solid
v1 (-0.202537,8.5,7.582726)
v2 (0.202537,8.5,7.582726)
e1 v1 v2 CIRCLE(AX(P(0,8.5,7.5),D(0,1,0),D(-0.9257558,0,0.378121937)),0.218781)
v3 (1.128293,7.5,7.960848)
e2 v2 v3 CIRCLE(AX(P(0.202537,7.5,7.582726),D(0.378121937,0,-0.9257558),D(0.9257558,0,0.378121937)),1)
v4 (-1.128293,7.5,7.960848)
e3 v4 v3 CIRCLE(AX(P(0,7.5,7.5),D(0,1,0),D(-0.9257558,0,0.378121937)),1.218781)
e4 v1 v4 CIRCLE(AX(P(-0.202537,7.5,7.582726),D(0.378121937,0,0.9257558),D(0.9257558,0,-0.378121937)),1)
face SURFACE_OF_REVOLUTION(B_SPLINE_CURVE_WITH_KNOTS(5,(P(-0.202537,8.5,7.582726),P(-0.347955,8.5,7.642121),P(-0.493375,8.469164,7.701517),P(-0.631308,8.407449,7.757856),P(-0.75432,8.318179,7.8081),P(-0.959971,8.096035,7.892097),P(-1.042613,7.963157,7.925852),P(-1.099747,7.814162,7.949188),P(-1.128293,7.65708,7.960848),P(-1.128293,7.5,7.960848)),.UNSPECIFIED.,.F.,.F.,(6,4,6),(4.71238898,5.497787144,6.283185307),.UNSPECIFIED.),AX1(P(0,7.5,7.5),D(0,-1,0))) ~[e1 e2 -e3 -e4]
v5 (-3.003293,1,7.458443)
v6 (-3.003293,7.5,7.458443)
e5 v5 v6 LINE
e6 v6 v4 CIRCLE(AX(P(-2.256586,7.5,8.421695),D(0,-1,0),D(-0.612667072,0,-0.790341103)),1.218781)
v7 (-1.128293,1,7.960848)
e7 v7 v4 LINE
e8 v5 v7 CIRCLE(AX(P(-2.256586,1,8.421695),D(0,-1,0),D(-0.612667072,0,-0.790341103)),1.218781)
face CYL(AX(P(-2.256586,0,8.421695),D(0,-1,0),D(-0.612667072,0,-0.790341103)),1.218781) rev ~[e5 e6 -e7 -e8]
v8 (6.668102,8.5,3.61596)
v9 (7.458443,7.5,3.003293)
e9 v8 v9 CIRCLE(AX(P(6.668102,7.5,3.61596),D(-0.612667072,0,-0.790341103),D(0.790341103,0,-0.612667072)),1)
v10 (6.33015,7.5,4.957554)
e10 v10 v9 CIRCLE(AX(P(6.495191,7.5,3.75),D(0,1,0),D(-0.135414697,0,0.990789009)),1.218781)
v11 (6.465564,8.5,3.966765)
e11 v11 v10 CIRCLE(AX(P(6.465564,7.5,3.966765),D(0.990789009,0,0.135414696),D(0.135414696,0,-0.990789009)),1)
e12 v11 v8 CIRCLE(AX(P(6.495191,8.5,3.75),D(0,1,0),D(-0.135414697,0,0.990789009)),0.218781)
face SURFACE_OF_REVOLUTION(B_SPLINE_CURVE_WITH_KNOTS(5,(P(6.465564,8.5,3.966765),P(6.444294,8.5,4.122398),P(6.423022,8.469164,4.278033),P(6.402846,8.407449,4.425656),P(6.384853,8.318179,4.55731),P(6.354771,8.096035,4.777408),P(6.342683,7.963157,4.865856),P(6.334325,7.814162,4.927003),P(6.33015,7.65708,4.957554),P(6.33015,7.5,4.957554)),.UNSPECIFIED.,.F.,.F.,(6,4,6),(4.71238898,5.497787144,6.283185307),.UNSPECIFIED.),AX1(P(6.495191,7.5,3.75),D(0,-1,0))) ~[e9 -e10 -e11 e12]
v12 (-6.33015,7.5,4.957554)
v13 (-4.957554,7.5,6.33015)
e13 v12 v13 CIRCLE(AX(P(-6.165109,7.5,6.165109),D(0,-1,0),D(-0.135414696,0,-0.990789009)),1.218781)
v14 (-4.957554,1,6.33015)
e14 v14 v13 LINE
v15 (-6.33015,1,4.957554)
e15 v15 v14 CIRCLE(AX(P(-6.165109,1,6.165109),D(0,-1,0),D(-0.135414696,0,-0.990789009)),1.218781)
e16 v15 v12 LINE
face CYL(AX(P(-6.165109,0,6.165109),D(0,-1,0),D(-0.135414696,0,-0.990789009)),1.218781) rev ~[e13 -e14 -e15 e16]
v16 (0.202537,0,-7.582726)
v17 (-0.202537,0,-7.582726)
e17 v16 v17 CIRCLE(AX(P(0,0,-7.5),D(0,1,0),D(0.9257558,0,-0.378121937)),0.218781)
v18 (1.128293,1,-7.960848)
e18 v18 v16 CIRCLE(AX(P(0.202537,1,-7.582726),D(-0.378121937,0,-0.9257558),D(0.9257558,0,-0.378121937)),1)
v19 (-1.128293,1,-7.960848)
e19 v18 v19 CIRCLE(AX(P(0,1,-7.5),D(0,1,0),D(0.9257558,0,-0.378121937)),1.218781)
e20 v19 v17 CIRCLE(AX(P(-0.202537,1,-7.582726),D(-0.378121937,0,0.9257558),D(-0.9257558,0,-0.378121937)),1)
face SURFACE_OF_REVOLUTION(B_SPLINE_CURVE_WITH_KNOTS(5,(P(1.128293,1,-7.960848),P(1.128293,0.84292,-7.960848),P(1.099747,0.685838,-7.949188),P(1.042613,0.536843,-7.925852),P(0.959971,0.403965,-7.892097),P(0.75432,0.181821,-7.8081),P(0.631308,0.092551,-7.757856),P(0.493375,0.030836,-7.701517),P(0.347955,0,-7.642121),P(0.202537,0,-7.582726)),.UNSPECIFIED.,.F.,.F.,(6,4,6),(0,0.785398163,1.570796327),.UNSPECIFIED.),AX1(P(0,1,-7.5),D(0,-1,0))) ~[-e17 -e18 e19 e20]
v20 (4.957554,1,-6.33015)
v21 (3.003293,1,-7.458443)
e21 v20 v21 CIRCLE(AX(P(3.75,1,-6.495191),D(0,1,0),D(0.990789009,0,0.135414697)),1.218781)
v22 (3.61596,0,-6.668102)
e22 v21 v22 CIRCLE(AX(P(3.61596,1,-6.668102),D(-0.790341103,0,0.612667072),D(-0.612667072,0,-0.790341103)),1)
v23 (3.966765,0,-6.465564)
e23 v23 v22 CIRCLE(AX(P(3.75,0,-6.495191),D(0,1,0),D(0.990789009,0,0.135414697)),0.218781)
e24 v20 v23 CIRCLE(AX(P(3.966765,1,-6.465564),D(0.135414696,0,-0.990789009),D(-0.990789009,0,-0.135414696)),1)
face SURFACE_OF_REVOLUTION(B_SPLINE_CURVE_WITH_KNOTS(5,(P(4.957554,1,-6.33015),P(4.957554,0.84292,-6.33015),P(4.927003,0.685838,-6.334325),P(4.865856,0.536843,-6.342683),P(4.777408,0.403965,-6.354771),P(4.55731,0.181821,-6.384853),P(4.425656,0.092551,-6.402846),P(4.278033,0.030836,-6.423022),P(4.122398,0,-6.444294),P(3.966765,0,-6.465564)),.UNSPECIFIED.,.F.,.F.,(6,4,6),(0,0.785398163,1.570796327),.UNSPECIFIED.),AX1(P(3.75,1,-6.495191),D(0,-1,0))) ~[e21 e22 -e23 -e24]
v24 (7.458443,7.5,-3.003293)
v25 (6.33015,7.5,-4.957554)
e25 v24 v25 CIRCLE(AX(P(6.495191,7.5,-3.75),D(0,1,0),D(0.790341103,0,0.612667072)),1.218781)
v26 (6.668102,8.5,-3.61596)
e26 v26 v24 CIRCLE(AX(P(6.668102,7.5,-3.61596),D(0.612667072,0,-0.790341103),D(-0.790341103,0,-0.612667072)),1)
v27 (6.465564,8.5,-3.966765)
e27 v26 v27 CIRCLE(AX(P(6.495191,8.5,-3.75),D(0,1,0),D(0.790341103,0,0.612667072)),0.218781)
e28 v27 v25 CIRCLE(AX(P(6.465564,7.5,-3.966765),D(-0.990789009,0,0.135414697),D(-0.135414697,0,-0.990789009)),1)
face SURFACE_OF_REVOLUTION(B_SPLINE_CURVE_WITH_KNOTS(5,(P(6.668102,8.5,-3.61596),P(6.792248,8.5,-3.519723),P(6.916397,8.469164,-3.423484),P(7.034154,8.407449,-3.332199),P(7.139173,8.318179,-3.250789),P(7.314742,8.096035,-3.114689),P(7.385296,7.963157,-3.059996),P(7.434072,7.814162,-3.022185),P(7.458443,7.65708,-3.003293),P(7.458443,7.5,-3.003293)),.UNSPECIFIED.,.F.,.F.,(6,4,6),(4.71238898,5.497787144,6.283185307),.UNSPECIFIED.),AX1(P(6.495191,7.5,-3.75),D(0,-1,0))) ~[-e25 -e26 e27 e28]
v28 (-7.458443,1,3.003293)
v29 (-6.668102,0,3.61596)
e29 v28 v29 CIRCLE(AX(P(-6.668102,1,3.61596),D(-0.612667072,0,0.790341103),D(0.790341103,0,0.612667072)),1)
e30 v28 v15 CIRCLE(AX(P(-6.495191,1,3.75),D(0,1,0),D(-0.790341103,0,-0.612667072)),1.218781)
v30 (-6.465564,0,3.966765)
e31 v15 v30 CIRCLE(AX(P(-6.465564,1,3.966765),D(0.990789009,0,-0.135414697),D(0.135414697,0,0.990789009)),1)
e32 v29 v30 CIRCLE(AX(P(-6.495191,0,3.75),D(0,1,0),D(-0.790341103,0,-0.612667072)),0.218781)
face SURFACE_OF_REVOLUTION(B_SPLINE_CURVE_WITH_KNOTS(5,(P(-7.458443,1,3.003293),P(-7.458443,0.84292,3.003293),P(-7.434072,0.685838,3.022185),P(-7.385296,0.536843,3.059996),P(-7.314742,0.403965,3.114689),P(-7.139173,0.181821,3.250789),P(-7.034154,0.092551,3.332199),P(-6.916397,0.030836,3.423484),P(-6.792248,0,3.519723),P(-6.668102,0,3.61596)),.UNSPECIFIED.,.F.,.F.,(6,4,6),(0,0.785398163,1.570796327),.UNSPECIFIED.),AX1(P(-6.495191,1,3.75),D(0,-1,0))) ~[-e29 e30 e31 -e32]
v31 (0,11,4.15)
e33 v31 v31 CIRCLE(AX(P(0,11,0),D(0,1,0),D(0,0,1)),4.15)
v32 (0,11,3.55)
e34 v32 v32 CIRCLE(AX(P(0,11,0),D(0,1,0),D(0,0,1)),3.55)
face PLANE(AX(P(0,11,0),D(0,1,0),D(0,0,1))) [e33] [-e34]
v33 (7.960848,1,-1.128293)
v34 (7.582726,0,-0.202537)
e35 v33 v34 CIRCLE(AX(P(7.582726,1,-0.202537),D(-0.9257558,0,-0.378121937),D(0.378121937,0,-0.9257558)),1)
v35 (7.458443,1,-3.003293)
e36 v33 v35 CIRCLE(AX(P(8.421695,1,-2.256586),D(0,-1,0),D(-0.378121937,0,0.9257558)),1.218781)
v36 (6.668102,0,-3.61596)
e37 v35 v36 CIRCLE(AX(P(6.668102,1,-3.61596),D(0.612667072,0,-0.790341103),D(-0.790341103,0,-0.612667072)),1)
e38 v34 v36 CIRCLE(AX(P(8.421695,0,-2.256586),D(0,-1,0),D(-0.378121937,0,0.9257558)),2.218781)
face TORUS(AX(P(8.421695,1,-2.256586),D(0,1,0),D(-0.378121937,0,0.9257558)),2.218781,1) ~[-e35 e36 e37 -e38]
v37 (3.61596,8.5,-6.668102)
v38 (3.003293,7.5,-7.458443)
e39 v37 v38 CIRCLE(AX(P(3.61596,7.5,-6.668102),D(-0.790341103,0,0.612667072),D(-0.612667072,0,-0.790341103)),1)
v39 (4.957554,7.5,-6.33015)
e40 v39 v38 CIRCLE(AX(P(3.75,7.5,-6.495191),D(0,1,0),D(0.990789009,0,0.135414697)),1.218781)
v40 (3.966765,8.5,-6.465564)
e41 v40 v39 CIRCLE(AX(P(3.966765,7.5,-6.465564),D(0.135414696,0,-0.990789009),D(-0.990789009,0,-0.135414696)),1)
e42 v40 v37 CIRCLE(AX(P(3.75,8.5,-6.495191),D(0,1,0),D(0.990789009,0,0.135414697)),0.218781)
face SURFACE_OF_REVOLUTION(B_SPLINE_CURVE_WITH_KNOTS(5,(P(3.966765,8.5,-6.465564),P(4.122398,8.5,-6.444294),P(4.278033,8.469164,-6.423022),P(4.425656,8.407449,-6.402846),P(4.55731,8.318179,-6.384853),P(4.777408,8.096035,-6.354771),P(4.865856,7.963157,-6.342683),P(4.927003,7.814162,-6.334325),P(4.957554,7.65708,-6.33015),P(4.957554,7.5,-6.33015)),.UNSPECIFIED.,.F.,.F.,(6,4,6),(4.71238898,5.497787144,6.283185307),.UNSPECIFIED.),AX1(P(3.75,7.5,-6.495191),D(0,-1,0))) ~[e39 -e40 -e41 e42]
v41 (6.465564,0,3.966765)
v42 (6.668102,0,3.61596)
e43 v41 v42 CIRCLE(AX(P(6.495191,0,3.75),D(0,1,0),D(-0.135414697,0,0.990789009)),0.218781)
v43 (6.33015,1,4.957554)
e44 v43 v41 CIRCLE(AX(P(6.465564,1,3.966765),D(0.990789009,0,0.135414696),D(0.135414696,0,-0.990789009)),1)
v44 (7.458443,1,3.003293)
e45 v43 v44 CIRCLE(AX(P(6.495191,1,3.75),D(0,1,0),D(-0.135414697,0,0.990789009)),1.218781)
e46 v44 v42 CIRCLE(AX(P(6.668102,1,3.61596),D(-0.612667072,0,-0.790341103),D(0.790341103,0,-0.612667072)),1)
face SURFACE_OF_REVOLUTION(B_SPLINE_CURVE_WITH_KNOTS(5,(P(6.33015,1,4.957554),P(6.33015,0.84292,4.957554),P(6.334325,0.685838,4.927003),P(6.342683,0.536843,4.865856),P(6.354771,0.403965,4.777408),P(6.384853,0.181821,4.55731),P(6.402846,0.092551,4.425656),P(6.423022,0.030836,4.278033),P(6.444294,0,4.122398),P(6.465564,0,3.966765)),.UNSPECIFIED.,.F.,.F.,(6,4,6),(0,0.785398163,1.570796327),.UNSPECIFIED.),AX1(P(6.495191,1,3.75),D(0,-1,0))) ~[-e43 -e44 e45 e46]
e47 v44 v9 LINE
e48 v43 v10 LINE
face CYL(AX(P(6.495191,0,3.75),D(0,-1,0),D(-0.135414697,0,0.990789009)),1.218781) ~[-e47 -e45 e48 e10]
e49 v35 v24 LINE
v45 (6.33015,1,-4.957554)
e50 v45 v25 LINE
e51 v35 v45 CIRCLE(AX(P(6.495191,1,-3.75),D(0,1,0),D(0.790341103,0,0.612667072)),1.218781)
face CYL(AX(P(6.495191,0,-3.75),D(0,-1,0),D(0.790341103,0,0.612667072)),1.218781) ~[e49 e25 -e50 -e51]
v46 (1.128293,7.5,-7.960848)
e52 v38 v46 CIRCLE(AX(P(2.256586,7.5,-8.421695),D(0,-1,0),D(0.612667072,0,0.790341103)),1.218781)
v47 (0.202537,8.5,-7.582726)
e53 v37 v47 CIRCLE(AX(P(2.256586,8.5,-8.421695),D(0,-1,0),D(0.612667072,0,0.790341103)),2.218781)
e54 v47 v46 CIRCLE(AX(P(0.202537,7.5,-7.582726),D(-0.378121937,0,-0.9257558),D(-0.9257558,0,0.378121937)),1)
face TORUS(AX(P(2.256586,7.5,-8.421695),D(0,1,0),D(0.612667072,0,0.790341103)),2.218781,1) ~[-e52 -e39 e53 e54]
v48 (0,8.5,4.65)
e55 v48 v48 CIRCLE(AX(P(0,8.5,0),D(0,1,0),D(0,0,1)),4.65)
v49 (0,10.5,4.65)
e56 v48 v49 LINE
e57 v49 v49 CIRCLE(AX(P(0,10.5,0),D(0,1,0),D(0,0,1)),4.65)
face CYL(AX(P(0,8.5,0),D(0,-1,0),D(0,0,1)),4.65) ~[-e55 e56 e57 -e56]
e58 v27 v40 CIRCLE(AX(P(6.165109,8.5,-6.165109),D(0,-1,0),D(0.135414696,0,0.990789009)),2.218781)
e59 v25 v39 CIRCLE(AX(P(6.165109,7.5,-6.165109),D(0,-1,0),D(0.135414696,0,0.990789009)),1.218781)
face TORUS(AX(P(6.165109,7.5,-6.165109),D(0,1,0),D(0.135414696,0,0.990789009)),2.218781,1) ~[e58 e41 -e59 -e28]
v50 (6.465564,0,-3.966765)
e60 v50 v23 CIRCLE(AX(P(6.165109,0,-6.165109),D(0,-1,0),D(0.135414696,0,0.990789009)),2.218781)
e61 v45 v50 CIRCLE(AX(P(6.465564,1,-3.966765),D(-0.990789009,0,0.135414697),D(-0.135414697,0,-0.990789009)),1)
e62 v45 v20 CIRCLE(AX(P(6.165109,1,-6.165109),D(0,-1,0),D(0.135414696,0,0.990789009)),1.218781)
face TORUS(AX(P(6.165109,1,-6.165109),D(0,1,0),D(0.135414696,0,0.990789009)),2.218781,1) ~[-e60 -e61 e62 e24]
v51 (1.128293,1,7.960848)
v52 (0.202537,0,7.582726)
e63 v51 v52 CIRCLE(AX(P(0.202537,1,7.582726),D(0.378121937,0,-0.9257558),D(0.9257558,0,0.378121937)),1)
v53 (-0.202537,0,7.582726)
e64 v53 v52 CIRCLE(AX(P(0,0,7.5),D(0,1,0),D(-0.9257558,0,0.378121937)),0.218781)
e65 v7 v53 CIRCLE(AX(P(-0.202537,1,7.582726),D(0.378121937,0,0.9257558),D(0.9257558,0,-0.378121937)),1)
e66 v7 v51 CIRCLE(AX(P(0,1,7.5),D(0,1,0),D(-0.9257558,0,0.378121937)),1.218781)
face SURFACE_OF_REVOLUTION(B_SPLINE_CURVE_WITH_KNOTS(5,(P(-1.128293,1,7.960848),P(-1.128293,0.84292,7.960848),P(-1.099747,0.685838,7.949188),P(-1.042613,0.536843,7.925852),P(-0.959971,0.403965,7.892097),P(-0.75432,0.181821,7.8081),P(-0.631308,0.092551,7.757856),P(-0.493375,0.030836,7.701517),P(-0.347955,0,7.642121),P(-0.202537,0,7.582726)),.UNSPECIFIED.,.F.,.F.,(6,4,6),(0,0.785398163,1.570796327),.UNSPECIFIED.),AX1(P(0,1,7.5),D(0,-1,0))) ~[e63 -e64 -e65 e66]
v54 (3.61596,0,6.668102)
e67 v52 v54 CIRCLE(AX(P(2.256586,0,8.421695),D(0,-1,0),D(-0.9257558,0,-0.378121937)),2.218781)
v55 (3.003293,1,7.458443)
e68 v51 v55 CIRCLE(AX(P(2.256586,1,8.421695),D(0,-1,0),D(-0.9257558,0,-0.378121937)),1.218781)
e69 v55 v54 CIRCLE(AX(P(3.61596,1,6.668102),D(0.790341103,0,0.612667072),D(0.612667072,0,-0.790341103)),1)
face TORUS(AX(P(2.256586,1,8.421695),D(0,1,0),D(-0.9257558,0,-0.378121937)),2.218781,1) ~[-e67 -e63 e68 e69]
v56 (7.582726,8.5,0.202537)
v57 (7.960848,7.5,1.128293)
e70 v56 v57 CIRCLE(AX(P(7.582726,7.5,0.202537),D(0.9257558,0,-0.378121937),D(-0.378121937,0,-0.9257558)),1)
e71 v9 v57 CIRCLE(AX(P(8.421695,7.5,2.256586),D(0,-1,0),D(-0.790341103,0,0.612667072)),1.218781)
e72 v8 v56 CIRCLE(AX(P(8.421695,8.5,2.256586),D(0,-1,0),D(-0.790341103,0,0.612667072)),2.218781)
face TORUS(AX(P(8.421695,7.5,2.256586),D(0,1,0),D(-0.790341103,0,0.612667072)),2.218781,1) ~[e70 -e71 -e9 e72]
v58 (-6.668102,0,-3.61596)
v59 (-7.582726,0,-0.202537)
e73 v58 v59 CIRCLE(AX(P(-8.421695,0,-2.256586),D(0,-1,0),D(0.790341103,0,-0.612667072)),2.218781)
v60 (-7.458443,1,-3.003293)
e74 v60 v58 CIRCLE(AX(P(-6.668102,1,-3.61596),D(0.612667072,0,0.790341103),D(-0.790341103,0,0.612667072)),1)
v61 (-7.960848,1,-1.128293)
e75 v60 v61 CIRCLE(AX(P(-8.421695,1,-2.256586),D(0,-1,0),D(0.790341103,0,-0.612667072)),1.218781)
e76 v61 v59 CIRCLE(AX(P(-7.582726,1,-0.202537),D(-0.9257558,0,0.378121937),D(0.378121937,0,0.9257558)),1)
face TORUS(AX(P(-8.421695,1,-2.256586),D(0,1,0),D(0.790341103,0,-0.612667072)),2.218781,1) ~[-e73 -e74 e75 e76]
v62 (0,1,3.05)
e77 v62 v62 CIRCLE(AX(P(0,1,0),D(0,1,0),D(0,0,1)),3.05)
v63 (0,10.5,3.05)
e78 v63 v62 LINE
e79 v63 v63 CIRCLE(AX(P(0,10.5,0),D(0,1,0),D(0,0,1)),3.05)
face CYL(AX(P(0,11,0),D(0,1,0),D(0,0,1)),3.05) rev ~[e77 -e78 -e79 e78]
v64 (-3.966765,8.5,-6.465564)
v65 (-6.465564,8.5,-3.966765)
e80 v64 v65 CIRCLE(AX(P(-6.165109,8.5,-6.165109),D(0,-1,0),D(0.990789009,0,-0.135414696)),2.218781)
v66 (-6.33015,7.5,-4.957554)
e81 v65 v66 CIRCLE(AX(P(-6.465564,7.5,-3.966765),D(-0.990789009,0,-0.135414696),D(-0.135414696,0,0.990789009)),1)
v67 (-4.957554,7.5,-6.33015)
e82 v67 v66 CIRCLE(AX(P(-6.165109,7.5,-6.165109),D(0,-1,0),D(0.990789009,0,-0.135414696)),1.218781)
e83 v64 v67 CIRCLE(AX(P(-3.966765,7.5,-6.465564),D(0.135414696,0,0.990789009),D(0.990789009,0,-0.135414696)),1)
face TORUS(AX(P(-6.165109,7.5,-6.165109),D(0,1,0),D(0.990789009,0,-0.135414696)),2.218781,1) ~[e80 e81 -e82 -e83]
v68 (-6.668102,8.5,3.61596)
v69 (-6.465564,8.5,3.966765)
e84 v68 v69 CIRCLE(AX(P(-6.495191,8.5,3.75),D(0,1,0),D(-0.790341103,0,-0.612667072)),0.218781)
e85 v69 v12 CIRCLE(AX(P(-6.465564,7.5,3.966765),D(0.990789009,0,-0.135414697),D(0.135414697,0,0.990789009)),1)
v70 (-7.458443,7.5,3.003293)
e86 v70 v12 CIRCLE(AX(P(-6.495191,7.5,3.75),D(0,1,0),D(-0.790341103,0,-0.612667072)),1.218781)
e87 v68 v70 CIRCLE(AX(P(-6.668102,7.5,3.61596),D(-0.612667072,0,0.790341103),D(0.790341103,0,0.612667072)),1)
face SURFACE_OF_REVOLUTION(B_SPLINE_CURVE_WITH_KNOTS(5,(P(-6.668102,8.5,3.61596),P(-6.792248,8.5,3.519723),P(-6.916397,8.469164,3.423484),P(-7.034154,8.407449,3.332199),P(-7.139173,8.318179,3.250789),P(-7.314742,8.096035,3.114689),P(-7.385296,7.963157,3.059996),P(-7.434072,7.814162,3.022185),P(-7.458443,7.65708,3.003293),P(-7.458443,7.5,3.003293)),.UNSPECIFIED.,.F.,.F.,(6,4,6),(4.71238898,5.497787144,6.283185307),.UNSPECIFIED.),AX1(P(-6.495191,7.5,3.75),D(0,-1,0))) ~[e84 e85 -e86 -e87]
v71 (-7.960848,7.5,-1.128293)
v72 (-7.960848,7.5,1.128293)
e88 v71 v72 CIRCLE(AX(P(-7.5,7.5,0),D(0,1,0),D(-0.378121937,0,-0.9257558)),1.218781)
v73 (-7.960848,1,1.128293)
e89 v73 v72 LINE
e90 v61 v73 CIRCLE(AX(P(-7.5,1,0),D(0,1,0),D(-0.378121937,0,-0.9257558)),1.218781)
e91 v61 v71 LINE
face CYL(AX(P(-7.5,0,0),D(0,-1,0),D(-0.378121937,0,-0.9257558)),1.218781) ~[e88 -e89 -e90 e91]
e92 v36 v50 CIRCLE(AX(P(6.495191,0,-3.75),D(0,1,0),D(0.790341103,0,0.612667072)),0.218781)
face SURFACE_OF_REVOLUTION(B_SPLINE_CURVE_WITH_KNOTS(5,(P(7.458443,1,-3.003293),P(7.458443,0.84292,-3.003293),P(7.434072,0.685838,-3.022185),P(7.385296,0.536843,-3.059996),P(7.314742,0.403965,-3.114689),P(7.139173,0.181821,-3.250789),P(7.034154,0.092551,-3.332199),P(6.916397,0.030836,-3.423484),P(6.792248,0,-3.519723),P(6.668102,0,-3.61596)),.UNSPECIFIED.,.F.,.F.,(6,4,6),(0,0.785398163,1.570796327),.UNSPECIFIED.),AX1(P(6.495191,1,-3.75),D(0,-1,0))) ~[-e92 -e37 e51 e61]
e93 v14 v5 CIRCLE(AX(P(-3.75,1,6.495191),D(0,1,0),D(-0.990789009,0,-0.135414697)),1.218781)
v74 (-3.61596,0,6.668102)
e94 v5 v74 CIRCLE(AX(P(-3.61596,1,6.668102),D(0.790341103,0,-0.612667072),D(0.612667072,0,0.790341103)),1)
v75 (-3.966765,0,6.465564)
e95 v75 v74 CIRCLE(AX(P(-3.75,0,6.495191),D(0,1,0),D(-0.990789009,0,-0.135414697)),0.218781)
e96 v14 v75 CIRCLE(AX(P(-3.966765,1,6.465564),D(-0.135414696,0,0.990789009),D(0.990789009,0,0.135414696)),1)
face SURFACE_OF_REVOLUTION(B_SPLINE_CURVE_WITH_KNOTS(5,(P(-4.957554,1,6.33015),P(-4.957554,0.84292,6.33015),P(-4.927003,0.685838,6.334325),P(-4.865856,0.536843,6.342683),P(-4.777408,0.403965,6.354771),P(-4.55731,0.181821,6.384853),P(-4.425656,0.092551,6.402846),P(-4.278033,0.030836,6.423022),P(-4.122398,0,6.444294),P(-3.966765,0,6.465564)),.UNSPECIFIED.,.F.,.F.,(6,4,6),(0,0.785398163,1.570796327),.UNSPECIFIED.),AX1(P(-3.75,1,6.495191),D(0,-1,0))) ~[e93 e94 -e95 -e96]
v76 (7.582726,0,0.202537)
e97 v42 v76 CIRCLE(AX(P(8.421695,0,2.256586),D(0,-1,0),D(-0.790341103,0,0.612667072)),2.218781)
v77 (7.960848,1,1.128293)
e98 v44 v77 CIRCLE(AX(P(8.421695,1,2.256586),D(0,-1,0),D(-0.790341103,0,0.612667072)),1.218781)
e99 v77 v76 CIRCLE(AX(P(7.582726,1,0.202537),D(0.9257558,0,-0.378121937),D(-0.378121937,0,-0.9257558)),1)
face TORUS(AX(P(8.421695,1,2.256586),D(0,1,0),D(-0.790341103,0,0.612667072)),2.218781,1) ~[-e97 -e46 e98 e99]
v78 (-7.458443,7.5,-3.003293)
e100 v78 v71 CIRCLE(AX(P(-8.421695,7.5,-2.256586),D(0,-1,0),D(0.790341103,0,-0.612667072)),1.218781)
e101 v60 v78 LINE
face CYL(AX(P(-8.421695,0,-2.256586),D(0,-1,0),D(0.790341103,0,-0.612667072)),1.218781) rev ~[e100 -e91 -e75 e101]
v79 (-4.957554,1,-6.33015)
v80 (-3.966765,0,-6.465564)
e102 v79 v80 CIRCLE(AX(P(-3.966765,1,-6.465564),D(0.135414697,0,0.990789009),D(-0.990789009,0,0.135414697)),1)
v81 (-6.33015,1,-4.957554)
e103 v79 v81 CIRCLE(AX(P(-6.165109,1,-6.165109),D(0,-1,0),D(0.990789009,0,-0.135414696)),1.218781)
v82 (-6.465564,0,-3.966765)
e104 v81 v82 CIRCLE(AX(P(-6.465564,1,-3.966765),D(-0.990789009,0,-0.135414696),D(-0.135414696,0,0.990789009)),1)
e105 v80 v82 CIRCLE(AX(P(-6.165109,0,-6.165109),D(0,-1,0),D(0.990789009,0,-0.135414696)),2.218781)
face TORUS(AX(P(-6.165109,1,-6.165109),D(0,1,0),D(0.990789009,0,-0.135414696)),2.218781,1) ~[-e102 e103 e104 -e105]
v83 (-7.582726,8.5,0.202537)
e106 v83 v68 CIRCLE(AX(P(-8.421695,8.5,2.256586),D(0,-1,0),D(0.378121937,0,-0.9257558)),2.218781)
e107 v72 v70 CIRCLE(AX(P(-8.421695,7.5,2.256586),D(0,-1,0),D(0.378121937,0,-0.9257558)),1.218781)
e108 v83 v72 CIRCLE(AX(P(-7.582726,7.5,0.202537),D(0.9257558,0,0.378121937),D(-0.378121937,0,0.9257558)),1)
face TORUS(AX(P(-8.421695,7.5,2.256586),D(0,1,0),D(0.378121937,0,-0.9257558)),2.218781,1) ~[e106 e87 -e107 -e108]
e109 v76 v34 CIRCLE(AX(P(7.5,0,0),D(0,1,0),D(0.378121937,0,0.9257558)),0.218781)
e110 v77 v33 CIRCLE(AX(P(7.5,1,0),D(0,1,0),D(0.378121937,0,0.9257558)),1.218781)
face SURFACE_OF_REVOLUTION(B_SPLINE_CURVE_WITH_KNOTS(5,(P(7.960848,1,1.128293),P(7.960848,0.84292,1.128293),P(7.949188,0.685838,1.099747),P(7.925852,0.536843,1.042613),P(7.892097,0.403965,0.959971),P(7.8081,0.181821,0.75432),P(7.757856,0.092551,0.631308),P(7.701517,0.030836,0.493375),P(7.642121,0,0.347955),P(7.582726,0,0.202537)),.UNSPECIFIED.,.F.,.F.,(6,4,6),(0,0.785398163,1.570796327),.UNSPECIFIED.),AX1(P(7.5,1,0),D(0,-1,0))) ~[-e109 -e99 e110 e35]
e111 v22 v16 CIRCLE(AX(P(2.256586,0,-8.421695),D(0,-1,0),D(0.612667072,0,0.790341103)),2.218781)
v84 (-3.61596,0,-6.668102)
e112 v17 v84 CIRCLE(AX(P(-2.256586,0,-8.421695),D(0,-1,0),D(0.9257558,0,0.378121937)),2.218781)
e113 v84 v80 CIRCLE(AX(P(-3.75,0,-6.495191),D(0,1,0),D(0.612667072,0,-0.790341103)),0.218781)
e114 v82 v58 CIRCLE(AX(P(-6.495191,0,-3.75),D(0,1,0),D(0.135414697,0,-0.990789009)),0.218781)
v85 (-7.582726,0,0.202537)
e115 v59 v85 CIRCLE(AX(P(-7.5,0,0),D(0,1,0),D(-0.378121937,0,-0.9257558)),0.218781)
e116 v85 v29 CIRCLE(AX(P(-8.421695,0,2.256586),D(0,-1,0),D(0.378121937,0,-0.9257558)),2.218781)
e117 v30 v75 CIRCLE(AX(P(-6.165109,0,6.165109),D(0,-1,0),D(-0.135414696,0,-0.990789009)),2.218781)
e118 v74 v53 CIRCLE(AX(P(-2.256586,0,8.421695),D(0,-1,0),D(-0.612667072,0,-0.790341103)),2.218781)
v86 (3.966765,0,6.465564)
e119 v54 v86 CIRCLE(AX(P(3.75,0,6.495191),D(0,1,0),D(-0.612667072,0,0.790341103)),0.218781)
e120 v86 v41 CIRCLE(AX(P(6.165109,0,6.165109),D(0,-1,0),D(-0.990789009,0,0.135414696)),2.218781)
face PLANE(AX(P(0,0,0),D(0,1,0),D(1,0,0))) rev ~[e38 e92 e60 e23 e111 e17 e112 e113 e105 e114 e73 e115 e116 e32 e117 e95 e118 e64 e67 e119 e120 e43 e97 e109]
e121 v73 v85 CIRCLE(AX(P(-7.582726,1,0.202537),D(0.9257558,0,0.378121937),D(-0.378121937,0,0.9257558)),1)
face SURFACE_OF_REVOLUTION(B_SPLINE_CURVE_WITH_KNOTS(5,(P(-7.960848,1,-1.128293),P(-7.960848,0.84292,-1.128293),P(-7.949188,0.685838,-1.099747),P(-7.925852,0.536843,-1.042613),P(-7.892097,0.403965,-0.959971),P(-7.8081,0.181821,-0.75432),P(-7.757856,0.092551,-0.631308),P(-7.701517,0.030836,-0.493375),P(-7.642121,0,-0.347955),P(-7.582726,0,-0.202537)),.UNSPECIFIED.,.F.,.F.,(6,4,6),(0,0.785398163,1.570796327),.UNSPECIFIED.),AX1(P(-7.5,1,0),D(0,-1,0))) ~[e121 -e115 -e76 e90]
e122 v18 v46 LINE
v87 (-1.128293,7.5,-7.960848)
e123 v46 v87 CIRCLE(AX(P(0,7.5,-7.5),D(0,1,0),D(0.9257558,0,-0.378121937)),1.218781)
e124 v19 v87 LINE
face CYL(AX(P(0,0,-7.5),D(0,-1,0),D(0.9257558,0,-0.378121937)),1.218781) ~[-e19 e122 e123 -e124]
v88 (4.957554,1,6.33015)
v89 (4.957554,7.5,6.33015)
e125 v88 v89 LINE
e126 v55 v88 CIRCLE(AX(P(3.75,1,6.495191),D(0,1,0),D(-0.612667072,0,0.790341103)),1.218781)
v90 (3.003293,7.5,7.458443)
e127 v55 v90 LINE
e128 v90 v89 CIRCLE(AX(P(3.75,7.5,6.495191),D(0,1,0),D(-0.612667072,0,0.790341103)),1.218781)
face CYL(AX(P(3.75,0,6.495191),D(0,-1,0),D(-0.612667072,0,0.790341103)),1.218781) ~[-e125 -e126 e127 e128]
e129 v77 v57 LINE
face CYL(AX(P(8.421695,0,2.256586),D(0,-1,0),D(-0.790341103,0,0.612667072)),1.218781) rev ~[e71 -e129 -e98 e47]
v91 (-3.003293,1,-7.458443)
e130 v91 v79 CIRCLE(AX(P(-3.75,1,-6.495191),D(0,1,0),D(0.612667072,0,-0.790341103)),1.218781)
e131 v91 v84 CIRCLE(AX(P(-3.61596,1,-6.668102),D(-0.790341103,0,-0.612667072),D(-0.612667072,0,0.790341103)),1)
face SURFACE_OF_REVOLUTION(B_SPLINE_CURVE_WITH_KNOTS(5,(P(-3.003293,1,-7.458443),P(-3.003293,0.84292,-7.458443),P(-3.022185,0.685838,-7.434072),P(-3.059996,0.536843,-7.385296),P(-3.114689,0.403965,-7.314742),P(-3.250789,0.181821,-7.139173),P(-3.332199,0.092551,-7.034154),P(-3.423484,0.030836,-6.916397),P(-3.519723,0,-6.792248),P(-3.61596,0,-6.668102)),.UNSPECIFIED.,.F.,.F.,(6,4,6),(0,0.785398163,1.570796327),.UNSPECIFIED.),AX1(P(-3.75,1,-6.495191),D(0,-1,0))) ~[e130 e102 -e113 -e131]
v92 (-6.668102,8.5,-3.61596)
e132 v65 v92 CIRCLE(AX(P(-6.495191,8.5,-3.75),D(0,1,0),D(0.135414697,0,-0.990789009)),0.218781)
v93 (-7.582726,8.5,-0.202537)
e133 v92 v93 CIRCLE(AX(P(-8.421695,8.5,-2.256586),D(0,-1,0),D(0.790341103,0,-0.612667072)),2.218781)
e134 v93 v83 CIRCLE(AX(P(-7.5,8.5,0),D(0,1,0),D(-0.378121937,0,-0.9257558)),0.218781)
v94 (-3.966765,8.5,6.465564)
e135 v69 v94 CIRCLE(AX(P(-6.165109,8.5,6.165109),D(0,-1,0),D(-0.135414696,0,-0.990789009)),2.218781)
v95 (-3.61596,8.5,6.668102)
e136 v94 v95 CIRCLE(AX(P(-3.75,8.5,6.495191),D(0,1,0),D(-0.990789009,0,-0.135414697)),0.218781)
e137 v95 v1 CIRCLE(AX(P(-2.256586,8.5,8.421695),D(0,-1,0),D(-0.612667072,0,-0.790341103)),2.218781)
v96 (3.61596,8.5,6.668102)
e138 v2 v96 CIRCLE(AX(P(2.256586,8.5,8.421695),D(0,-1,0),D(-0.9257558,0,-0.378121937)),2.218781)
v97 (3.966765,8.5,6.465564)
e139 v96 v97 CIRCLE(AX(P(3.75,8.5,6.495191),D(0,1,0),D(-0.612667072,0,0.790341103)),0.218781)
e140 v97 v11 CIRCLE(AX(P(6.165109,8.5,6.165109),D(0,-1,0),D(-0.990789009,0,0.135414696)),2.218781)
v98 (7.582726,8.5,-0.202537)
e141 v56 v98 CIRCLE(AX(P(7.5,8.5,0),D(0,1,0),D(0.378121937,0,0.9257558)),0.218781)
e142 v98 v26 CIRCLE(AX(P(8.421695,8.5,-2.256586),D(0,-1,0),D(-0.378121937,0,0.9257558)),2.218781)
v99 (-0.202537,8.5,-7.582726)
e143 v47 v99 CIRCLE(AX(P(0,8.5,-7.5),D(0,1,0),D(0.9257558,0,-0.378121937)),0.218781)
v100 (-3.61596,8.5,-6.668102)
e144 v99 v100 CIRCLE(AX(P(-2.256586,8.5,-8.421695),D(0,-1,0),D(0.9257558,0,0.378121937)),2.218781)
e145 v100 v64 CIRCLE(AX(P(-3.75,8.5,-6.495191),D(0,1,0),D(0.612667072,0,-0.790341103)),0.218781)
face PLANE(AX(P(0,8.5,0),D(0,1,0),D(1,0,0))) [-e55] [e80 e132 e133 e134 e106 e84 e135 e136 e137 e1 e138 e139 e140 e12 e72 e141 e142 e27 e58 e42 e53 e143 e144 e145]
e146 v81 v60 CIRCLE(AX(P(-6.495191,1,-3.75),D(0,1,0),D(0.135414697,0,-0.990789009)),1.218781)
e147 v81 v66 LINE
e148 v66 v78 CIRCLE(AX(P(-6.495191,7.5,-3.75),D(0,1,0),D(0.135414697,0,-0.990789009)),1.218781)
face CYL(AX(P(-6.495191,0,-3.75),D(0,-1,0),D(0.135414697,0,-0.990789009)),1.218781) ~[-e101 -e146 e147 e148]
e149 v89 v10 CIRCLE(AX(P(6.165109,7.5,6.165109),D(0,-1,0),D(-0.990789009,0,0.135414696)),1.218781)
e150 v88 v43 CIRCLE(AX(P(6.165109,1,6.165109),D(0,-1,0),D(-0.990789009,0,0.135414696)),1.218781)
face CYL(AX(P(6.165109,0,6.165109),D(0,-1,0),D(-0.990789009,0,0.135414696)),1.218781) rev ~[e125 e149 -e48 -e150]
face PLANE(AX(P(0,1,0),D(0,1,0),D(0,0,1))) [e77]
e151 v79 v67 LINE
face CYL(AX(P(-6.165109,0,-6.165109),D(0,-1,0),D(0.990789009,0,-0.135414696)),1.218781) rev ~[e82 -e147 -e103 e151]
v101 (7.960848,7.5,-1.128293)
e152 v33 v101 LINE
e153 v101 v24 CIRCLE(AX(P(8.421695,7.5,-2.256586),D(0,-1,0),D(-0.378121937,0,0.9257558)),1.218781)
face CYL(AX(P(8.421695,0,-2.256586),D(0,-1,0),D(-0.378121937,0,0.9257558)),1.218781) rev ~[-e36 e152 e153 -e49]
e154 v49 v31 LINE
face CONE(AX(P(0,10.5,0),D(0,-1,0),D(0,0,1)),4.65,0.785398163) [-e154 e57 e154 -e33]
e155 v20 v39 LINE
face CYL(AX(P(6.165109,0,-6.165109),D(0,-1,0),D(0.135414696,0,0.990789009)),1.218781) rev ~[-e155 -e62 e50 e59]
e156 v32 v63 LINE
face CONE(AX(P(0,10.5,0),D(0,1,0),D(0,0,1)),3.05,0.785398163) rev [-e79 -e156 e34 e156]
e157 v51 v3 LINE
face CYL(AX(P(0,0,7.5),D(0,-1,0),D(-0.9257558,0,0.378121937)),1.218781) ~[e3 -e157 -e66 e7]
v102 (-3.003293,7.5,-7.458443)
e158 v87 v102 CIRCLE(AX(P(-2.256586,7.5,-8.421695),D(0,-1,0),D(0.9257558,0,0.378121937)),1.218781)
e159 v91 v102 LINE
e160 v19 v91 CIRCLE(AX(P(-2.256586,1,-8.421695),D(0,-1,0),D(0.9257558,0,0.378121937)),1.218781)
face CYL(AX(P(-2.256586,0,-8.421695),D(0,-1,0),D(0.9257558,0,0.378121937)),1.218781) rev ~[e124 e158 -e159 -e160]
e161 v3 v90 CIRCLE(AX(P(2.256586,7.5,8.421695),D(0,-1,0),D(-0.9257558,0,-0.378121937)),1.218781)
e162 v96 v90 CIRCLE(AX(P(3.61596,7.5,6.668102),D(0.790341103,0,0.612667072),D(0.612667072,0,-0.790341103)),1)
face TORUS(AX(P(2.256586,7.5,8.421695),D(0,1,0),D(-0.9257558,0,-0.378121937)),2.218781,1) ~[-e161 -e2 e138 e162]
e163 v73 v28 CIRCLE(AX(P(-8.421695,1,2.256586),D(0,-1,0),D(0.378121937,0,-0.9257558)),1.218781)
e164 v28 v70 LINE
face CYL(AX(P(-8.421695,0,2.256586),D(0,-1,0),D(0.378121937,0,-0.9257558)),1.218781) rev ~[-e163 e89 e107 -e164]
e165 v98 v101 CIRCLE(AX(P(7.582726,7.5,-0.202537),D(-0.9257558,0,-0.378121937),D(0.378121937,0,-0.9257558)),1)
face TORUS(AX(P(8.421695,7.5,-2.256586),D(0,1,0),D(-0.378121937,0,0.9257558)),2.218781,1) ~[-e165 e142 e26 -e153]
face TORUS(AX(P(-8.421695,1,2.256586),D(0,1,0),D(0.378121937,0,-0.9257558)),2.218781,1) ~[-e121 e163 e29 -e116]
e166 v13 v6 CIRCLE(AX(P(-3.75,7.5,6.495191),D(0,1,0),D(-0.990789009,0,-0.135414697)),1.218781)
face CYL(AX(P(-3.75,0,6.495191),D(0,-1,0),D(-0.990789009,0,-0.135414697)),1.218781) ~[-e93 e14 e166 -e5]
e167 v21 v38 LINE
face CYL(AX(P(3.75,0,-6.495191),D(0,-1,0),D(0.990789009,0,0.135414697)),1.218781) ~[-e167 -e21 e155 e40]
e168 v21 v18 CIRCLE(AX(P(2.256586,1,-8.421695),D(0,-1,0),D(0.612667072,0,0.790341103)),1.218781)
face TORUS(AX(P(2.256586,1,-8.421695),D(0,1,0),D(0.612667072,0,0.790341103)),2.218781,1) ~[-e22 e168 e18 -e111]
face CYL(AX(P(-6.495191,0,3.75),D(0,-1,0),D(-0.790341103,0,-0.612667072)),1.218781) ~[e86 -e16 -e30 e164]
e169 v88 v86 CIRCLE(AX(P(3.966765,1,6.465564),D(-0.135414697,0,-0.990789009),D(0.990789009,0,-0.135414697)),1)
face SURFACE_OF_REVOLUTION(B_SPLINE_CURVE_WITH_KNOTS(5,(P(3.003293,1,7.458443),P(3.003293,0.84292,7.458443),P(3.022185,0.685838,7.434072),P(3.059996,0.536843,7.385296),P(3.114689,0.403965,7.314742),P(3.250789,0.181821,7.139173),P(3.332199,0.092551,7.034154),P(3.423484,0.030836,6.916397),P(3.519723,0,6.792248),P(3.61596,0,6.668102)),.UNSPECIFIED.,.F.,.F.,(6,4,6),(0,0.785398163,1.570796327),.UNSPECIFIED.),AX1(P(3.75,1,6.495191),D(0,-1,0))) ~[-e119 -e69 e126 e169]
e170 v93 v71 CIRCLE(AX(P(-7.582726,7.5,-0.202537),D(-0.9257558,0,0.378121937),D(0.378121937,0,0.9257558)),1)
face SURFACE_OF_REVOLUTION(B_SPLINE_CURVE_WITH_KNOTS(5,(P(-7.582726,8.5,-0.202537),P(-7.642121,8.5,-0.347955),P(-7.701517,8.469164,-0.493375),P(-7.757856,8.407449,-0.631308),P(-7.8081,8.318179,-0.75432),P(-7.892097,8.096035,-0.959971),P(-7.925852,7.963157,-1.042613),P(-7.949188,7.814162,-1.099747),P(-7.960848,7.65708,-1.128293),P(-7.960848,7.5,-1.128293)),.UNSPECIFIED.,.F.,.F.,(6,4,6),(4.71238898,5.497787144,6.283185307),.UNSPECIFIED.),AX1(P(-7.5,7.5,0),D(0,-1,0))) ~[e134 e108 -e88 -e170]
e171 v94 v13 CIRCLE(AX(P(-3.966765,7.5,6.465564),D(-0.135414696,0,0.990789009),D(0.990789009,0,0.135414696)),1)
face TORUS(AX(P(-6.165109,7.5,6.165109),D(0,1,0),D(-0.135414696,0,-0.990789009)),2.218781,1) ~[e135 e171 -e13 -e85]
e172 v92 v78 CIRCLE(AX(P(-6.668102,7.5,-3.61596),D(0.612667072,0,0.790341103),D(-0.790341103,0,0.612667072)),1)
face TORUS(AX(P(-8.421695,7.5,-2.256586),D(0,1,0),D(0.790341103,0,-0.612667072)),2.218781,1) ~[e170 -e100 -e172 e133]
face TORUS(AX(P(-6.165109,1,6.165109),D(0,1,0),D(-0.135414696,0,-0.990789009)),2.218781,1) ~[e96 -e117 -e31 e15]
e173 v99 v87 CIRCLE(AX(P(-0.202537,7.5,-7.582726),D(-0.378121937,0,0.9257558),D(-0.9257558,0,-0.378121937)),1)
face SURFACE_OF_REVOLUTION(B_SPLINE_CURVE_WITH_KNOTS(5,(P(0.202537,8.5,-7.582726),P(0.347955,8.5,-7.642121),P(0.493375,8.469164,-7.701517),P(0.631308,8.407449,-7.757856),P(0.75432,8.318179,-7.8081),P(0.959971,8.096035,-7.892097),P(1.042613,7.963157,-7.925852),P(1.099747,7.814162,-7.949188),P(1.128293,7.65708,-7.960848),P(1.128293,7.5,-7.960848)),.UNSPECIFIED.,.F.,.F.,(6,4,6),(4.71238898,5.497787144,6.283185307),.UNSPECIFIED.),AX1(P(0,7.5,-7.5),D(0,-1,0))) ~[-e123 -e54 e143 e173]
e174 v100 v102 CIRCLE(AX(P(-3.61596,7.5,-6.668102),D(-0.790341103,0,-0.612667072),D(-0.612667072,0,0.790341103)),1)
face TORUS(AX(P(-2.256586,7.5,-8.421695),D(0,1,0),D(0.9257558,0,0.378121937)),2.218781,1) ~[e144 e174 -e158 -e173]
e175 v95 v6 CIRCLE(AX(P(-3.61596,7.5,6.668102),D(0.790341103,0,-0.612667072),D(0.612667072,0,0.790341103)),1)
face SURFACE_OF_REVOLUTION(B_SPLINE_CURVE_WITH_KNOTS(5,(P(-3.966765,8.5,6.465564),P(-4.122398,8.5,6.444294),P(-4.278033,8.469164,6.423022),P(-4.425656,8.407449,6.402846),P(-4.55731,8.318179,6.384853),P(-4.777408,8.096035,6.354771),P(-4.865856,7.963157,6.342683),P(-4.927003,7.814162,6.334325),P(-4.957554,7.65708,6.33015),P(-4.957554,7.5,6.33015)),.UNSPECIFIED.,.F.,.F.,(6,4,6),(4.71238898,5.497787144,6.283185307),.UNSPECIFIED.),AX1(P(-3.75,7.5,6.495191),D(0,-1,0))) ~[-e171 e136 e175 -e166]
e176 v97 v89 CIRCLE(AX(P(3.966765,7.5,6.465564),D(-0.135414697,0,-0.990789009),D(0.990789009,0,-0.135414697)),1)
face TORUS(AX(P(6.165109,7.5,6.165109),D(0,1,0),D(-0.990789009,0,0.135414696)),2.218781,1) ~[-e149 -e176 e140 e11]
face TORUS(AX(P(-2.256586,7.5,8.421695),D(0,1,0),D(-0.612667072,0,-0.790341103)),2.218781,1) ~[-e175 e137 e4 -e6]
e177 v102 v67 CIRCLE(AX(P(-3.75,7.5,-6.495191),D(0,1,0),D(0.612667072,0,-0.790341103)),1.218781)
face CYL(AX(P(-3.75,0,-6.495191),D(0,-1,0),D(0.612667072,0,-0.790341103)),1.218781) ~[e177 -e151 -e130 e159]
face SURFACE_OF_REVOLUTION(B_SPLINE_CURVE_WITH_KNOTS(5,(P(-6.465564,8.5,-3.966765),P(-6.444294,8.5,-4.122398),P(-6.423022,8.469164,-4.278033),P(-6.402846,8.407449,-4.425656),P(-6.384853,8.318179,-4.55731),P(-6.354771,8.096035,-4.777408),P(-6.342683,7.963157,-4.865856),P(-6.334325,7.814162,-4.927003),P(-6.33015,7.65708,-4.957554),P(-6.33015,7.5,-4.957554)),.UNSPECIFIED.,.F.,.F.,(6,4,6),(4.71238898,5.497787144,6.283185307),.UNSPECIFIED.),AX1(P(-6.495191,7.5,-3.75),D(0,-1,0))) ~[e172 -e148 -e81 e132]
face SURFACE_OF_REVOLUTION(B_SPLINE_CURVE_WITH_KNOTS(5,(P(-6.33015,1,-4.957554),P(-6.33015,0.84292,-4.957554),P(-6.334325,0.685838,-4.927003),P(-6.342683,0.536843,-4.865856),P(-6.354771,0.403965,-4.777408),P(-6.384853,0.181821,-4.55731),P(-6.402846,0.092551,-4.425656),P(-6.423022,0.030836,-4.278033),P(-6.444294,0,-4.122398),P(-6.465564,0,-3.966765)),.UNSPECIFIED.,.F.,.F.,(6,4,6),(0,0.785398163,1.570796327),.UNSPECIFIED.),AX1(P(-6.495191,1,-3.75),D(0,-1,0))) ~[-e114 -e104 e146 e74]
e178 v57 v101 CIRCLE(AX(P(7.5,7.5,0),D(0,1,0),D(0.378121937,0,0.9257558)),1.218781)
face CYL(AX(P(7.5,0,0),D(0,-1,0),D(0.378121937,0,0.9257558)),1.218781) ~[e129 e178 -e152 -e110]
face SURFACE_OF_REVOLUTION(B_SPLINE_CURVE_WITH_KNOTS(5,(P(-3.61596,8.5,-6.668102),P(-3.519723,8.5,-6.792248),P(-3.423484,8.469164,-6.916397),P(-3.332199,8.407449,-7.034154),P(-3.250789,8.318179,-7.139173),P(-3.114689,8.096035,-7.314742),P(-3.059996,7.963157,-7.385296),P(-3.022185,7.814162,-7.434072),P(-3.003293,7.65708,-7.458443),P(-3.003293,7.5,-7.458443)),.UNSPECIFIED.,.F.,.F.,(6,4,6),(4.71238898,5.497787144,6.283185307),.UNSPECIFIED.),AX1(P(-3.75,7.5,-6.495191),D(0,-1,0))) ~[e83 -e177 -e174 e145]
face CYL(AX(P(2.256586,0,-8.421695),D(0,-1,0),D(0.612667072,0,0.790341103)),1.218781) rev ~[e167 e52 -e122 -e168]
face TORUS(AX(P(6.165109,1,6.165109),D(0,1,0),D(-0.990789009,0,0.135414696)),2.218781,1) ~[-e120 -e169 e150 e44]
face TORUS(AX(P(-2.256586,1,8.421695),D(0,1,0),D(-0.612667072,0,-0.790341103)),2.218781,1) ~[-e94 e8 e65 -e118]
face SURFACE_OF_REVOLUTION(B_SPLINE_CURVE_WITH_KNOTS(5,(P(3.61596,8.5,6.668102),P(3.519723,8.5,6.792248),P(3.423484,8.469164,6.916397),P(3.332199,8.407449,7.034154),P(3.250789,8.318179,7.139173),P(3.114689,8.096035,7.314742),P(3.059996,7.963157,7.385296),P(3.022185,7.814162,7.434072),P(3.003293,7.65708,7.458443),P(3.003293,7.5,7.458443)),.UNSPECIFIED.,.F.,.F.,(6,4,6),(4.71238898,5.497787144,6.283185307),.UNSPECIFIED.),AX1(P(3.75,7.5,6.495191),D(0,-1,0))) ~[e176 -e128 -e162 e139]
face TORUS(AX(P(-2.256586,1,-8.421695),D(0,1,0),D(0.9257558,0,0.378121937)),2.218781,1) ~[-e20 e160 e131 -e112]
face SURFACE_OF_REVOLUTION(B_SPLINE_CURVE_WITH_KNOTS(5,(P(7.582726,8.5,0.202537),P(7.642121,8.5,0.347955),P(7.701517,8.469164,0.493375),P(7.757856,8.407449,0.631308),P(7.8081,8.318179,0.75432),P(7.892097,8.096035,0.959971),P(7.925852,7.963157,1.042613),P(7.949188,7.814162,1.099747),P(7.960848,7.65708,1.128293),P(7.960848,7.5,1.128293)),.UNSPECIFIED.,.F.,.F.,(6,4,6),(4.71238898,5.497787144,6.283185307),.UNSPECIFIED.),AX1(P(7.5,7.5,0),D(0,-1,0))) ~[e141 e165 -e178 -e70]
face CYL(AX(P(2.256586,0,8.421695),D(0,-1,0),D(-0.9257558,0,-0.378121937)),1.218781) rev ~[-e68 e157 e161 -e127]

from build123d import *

# Parameters (mm, degrees)
EXTRUDE_1_DEPTH     = 8.5
SKETCH_2_R          = 4.65
EXTRUDE_2_DEPTH     = 2.5
FILLET_1_R          = 1
SKETCH_3_R          = 3.05
CUT_EXTRUDE_1_DEPTH = 10
CHAMFER_1_SIZE      = 0.5


with BuildPart() as part:
    # Эскиз1 → Бобышка-Вытянуть1 (new body)
    with BuildSketch(Plane(origin=(0, 0, 0), x_dir=(1, 0, 0), z_dir=(0, 1, 0))):
        with BuildLine():
            ThreePointArc((-3.003293239, 7.458442957), (-1.941142838, 7.244443697), (-1.128293239, 7.960847693))
            ThreePointArc((-1.128293239, 7.960847693), (0, 8.718780632), (1.128293239, 7.960847693))
            ThreePointArc((1.128293239, 7.960847693), (1.941142838, 7.244443697), (3.003293239, 7.458442957))
            ThreePointArc((3.003293239, 7.458442957), (4.359390316, 7.550685517), (4.957554454, 6.330149718))
            ThreePointArc((4.957554454, 6.330149718), (5.303300859, 5.303300859), (6.330149718, 4.957554454))
            ThreePointArc((6.330149718, 4.957554454), (7.550685517, 4.359390316), (7.458442957, 3.003293239))
            ThreePointArc((7.458442957, 3.003293239), (7.244443697, 1.941142838), (7.960847693, 1.128293239))
            ThreePointArc((7.960847693, 1.128293239), (8.718780632, 0), (7.960847693, -1.128293239))
            ThreePointArc((7.960847693, -1.128293239), (7.244443697, -1.941142838), (7.458442957, -3.003293239))
            ThreePointArc((7.458442957, -3.003293239), (7.550685517, -4.359390316), (6.330149718, -4.957554454))
            ThreePointArc((6.330149718, -4.957554454), (5.303300859, -5.303300859), (4.957554454, -6.330149718))
            ThreePointArc((4.957554454, -6.330149718), (4.359390316, -7.550685517), (3.003293239, -7.458442957))
            ThreePointArc((3.003293239, -7.458442957), (1.941142838, -7.244443697), (1.128293239, -7.960847693))
            ThreePointArc((1.128293239, -7.960847693), (0, -8.718780632), (-1.128293239, -7.960847693))
            ThreePointArc((-1.128293239, -7.960847693), (-1.941142838, -7.244443697), (-3.003293239, -7.458442957))
            ThreePointArc((-3.003293239, -7.458442957), (-4.359390316, -7.550685517), (-4.957554454, -6.330149718))
            ThreePointArc((-4.957554454, -6.330149718), (-5.303300859, -5.303300859), (-6.330149718, -4.957554454))
            ThreePointArc((-6.330149718, -4.957554454), (-7.550685517, -4.359390316), (-7.458442957, -3.003293239))
            ThreePointArc((-7.458442957, -3.003293239), (-7.244443697, -1.941142838), (-7.960847693, -1.128293239))
            ThreePointArc((-7.960847693, -1.128293239), (-8.718780632, 0), (-7.960847693, 1.128293239))
            ThreePointArc((-7.960847693, 1.128293239), (-7.244443697, 1.941142838), (-7.458442957, 3.003293239))
            ThreePointArc((-7.458442957, 3.003293239), (-7.550685517, 4.359390316), (-6.330149718, 4.957554454))
            ThreePointArc((-6.330149718, 4.957554454), (-5.303300859, 5.303300859), (-4.957554454, 6.330149718))
            ThreePointArc((-4.957554454, 6.330149718), (-4.359390316, 7.550685517), (-3.003293239, 7.458442957))
        make_face()
    extrude(amount=EXTRUDE_1_DEPTH)

    # Эскиз2 → Бобышка-Вытянуть2 (add)
    with BuildSketch(Plane(origin=(0, 8.5, 0), x_dir=(1, 0, 0), z_dir=(0, 1, 0))):
        Circle(SKETCH_2_R)
    extrude(amount=EXTRUDE_2_DEPTH)

    # Скругление1
    fillet_1_edges = [part.edges().sort_by_distance(p)[0] for p in [
        (7.550685517, 8.5, -4.359390316),
        (5.303300859, 8.5, -5.303300859),
        (4.359390316, 8.5, -7.550685517),
        (1.941142838, 8.5, -7.244443697),
        (0, 8.5, -8.718780632),
        (-1.941142838, 8.5, -7.244443697),
        (-4.359390316, 8.5, -7.550685517),
        (-5.303300859, 8.5, -5.303300859),
        (-7.550685517, 8.5, -4.359390316),
        (-7.244443697, 8.5, -1.941142838),
        (-8.718780632, 8.5, 0),
        (-7.244443697, 8.5, 1.941142838),
        (-7.550685517, 8.5, 4.359390316),
        (-5.303300859, 8.5, 5.303300859),
        (-4.359390316, 8.5, 7.550685517),
        (-1.941142838, 8.5, 7.244443697),
        (0, 8.5, 8.718780632),
        (1.941142838, 8.5, 7.244443697),
        (4.359390316, 8.5, 7.550685517),
        (5.303300859, 8.5, 5.303300859),
        (7.550685517, 8.5, 4.359390316),
        (7.244443697, 8.5, 1.941142838),
        (8.718780632, 8.5, 0),
        (7.550685517, 0, -4.359390316),
        (5.303300859, 0, -5.303300859),
        (4.359390316, 0, -7.550685517),
        (1.941142838, 0, -7.244443697),
        (0, 0, -8.718780632),
        (-1.941142838, 0, -7.244443697),
        (-4.359390316, 0, -7.550685517),
        (-5.303300859, 0, -5.303300859),
        (-7.550685517, 0, -4.359390316),
        (-7.244443697, 0, -1.941142838),
        (-8.718780632, 0, 0),
        (-7.244443697, 0, 1.941142838),
        (-7.550685517, 0, 4.359390316),
        (-5.303300859, 0, 5.303300859),
        (-4.359390316, 0, 7.550685517),
        (-1.941142838, 0, 7.244443697),
        (0, 0, 8.718780632),
        (1.941142838, 0, 7.244443697),
        (4.359390316, 0, 7.550685517),
        (5.303300859, 0, 5.303300859),
        (7.550685517, 0, 4.359390316),
        (7.244443697, 0, 1.941142838),
        (8.718780632, 0, 0),
        (7.244443697, 8.5, -1.941142838),
        (7.244443697, 0, -1.941142838),
    ]]
    fillet(fillet_1_edges, radius=FILLET_1_R)

    # Эскиз3 → Вырез-Вытянуть1 (cut)
    with BuildSketch(Plane(origin=(0, 11, 0), x_dir=(1, 0, 0), z_dir=(0, 1, 0))):
        Circle(SKETCH_3_R)
    extrude(amount=-CUT_EXTRUDE_1_DEPTH, mode=Mode.SUBTRACT)

    # Фаска1
    chamfer_1_edges = [part.edges().sort_by_distance(p)[0] for p in [
        (-4.65, 11, 0),
        (-3.05, 11, 0),
    ]]
    chamfer(chamfer_1_edges, length=CHAMFER_1_SIZE)


solid = part.part
